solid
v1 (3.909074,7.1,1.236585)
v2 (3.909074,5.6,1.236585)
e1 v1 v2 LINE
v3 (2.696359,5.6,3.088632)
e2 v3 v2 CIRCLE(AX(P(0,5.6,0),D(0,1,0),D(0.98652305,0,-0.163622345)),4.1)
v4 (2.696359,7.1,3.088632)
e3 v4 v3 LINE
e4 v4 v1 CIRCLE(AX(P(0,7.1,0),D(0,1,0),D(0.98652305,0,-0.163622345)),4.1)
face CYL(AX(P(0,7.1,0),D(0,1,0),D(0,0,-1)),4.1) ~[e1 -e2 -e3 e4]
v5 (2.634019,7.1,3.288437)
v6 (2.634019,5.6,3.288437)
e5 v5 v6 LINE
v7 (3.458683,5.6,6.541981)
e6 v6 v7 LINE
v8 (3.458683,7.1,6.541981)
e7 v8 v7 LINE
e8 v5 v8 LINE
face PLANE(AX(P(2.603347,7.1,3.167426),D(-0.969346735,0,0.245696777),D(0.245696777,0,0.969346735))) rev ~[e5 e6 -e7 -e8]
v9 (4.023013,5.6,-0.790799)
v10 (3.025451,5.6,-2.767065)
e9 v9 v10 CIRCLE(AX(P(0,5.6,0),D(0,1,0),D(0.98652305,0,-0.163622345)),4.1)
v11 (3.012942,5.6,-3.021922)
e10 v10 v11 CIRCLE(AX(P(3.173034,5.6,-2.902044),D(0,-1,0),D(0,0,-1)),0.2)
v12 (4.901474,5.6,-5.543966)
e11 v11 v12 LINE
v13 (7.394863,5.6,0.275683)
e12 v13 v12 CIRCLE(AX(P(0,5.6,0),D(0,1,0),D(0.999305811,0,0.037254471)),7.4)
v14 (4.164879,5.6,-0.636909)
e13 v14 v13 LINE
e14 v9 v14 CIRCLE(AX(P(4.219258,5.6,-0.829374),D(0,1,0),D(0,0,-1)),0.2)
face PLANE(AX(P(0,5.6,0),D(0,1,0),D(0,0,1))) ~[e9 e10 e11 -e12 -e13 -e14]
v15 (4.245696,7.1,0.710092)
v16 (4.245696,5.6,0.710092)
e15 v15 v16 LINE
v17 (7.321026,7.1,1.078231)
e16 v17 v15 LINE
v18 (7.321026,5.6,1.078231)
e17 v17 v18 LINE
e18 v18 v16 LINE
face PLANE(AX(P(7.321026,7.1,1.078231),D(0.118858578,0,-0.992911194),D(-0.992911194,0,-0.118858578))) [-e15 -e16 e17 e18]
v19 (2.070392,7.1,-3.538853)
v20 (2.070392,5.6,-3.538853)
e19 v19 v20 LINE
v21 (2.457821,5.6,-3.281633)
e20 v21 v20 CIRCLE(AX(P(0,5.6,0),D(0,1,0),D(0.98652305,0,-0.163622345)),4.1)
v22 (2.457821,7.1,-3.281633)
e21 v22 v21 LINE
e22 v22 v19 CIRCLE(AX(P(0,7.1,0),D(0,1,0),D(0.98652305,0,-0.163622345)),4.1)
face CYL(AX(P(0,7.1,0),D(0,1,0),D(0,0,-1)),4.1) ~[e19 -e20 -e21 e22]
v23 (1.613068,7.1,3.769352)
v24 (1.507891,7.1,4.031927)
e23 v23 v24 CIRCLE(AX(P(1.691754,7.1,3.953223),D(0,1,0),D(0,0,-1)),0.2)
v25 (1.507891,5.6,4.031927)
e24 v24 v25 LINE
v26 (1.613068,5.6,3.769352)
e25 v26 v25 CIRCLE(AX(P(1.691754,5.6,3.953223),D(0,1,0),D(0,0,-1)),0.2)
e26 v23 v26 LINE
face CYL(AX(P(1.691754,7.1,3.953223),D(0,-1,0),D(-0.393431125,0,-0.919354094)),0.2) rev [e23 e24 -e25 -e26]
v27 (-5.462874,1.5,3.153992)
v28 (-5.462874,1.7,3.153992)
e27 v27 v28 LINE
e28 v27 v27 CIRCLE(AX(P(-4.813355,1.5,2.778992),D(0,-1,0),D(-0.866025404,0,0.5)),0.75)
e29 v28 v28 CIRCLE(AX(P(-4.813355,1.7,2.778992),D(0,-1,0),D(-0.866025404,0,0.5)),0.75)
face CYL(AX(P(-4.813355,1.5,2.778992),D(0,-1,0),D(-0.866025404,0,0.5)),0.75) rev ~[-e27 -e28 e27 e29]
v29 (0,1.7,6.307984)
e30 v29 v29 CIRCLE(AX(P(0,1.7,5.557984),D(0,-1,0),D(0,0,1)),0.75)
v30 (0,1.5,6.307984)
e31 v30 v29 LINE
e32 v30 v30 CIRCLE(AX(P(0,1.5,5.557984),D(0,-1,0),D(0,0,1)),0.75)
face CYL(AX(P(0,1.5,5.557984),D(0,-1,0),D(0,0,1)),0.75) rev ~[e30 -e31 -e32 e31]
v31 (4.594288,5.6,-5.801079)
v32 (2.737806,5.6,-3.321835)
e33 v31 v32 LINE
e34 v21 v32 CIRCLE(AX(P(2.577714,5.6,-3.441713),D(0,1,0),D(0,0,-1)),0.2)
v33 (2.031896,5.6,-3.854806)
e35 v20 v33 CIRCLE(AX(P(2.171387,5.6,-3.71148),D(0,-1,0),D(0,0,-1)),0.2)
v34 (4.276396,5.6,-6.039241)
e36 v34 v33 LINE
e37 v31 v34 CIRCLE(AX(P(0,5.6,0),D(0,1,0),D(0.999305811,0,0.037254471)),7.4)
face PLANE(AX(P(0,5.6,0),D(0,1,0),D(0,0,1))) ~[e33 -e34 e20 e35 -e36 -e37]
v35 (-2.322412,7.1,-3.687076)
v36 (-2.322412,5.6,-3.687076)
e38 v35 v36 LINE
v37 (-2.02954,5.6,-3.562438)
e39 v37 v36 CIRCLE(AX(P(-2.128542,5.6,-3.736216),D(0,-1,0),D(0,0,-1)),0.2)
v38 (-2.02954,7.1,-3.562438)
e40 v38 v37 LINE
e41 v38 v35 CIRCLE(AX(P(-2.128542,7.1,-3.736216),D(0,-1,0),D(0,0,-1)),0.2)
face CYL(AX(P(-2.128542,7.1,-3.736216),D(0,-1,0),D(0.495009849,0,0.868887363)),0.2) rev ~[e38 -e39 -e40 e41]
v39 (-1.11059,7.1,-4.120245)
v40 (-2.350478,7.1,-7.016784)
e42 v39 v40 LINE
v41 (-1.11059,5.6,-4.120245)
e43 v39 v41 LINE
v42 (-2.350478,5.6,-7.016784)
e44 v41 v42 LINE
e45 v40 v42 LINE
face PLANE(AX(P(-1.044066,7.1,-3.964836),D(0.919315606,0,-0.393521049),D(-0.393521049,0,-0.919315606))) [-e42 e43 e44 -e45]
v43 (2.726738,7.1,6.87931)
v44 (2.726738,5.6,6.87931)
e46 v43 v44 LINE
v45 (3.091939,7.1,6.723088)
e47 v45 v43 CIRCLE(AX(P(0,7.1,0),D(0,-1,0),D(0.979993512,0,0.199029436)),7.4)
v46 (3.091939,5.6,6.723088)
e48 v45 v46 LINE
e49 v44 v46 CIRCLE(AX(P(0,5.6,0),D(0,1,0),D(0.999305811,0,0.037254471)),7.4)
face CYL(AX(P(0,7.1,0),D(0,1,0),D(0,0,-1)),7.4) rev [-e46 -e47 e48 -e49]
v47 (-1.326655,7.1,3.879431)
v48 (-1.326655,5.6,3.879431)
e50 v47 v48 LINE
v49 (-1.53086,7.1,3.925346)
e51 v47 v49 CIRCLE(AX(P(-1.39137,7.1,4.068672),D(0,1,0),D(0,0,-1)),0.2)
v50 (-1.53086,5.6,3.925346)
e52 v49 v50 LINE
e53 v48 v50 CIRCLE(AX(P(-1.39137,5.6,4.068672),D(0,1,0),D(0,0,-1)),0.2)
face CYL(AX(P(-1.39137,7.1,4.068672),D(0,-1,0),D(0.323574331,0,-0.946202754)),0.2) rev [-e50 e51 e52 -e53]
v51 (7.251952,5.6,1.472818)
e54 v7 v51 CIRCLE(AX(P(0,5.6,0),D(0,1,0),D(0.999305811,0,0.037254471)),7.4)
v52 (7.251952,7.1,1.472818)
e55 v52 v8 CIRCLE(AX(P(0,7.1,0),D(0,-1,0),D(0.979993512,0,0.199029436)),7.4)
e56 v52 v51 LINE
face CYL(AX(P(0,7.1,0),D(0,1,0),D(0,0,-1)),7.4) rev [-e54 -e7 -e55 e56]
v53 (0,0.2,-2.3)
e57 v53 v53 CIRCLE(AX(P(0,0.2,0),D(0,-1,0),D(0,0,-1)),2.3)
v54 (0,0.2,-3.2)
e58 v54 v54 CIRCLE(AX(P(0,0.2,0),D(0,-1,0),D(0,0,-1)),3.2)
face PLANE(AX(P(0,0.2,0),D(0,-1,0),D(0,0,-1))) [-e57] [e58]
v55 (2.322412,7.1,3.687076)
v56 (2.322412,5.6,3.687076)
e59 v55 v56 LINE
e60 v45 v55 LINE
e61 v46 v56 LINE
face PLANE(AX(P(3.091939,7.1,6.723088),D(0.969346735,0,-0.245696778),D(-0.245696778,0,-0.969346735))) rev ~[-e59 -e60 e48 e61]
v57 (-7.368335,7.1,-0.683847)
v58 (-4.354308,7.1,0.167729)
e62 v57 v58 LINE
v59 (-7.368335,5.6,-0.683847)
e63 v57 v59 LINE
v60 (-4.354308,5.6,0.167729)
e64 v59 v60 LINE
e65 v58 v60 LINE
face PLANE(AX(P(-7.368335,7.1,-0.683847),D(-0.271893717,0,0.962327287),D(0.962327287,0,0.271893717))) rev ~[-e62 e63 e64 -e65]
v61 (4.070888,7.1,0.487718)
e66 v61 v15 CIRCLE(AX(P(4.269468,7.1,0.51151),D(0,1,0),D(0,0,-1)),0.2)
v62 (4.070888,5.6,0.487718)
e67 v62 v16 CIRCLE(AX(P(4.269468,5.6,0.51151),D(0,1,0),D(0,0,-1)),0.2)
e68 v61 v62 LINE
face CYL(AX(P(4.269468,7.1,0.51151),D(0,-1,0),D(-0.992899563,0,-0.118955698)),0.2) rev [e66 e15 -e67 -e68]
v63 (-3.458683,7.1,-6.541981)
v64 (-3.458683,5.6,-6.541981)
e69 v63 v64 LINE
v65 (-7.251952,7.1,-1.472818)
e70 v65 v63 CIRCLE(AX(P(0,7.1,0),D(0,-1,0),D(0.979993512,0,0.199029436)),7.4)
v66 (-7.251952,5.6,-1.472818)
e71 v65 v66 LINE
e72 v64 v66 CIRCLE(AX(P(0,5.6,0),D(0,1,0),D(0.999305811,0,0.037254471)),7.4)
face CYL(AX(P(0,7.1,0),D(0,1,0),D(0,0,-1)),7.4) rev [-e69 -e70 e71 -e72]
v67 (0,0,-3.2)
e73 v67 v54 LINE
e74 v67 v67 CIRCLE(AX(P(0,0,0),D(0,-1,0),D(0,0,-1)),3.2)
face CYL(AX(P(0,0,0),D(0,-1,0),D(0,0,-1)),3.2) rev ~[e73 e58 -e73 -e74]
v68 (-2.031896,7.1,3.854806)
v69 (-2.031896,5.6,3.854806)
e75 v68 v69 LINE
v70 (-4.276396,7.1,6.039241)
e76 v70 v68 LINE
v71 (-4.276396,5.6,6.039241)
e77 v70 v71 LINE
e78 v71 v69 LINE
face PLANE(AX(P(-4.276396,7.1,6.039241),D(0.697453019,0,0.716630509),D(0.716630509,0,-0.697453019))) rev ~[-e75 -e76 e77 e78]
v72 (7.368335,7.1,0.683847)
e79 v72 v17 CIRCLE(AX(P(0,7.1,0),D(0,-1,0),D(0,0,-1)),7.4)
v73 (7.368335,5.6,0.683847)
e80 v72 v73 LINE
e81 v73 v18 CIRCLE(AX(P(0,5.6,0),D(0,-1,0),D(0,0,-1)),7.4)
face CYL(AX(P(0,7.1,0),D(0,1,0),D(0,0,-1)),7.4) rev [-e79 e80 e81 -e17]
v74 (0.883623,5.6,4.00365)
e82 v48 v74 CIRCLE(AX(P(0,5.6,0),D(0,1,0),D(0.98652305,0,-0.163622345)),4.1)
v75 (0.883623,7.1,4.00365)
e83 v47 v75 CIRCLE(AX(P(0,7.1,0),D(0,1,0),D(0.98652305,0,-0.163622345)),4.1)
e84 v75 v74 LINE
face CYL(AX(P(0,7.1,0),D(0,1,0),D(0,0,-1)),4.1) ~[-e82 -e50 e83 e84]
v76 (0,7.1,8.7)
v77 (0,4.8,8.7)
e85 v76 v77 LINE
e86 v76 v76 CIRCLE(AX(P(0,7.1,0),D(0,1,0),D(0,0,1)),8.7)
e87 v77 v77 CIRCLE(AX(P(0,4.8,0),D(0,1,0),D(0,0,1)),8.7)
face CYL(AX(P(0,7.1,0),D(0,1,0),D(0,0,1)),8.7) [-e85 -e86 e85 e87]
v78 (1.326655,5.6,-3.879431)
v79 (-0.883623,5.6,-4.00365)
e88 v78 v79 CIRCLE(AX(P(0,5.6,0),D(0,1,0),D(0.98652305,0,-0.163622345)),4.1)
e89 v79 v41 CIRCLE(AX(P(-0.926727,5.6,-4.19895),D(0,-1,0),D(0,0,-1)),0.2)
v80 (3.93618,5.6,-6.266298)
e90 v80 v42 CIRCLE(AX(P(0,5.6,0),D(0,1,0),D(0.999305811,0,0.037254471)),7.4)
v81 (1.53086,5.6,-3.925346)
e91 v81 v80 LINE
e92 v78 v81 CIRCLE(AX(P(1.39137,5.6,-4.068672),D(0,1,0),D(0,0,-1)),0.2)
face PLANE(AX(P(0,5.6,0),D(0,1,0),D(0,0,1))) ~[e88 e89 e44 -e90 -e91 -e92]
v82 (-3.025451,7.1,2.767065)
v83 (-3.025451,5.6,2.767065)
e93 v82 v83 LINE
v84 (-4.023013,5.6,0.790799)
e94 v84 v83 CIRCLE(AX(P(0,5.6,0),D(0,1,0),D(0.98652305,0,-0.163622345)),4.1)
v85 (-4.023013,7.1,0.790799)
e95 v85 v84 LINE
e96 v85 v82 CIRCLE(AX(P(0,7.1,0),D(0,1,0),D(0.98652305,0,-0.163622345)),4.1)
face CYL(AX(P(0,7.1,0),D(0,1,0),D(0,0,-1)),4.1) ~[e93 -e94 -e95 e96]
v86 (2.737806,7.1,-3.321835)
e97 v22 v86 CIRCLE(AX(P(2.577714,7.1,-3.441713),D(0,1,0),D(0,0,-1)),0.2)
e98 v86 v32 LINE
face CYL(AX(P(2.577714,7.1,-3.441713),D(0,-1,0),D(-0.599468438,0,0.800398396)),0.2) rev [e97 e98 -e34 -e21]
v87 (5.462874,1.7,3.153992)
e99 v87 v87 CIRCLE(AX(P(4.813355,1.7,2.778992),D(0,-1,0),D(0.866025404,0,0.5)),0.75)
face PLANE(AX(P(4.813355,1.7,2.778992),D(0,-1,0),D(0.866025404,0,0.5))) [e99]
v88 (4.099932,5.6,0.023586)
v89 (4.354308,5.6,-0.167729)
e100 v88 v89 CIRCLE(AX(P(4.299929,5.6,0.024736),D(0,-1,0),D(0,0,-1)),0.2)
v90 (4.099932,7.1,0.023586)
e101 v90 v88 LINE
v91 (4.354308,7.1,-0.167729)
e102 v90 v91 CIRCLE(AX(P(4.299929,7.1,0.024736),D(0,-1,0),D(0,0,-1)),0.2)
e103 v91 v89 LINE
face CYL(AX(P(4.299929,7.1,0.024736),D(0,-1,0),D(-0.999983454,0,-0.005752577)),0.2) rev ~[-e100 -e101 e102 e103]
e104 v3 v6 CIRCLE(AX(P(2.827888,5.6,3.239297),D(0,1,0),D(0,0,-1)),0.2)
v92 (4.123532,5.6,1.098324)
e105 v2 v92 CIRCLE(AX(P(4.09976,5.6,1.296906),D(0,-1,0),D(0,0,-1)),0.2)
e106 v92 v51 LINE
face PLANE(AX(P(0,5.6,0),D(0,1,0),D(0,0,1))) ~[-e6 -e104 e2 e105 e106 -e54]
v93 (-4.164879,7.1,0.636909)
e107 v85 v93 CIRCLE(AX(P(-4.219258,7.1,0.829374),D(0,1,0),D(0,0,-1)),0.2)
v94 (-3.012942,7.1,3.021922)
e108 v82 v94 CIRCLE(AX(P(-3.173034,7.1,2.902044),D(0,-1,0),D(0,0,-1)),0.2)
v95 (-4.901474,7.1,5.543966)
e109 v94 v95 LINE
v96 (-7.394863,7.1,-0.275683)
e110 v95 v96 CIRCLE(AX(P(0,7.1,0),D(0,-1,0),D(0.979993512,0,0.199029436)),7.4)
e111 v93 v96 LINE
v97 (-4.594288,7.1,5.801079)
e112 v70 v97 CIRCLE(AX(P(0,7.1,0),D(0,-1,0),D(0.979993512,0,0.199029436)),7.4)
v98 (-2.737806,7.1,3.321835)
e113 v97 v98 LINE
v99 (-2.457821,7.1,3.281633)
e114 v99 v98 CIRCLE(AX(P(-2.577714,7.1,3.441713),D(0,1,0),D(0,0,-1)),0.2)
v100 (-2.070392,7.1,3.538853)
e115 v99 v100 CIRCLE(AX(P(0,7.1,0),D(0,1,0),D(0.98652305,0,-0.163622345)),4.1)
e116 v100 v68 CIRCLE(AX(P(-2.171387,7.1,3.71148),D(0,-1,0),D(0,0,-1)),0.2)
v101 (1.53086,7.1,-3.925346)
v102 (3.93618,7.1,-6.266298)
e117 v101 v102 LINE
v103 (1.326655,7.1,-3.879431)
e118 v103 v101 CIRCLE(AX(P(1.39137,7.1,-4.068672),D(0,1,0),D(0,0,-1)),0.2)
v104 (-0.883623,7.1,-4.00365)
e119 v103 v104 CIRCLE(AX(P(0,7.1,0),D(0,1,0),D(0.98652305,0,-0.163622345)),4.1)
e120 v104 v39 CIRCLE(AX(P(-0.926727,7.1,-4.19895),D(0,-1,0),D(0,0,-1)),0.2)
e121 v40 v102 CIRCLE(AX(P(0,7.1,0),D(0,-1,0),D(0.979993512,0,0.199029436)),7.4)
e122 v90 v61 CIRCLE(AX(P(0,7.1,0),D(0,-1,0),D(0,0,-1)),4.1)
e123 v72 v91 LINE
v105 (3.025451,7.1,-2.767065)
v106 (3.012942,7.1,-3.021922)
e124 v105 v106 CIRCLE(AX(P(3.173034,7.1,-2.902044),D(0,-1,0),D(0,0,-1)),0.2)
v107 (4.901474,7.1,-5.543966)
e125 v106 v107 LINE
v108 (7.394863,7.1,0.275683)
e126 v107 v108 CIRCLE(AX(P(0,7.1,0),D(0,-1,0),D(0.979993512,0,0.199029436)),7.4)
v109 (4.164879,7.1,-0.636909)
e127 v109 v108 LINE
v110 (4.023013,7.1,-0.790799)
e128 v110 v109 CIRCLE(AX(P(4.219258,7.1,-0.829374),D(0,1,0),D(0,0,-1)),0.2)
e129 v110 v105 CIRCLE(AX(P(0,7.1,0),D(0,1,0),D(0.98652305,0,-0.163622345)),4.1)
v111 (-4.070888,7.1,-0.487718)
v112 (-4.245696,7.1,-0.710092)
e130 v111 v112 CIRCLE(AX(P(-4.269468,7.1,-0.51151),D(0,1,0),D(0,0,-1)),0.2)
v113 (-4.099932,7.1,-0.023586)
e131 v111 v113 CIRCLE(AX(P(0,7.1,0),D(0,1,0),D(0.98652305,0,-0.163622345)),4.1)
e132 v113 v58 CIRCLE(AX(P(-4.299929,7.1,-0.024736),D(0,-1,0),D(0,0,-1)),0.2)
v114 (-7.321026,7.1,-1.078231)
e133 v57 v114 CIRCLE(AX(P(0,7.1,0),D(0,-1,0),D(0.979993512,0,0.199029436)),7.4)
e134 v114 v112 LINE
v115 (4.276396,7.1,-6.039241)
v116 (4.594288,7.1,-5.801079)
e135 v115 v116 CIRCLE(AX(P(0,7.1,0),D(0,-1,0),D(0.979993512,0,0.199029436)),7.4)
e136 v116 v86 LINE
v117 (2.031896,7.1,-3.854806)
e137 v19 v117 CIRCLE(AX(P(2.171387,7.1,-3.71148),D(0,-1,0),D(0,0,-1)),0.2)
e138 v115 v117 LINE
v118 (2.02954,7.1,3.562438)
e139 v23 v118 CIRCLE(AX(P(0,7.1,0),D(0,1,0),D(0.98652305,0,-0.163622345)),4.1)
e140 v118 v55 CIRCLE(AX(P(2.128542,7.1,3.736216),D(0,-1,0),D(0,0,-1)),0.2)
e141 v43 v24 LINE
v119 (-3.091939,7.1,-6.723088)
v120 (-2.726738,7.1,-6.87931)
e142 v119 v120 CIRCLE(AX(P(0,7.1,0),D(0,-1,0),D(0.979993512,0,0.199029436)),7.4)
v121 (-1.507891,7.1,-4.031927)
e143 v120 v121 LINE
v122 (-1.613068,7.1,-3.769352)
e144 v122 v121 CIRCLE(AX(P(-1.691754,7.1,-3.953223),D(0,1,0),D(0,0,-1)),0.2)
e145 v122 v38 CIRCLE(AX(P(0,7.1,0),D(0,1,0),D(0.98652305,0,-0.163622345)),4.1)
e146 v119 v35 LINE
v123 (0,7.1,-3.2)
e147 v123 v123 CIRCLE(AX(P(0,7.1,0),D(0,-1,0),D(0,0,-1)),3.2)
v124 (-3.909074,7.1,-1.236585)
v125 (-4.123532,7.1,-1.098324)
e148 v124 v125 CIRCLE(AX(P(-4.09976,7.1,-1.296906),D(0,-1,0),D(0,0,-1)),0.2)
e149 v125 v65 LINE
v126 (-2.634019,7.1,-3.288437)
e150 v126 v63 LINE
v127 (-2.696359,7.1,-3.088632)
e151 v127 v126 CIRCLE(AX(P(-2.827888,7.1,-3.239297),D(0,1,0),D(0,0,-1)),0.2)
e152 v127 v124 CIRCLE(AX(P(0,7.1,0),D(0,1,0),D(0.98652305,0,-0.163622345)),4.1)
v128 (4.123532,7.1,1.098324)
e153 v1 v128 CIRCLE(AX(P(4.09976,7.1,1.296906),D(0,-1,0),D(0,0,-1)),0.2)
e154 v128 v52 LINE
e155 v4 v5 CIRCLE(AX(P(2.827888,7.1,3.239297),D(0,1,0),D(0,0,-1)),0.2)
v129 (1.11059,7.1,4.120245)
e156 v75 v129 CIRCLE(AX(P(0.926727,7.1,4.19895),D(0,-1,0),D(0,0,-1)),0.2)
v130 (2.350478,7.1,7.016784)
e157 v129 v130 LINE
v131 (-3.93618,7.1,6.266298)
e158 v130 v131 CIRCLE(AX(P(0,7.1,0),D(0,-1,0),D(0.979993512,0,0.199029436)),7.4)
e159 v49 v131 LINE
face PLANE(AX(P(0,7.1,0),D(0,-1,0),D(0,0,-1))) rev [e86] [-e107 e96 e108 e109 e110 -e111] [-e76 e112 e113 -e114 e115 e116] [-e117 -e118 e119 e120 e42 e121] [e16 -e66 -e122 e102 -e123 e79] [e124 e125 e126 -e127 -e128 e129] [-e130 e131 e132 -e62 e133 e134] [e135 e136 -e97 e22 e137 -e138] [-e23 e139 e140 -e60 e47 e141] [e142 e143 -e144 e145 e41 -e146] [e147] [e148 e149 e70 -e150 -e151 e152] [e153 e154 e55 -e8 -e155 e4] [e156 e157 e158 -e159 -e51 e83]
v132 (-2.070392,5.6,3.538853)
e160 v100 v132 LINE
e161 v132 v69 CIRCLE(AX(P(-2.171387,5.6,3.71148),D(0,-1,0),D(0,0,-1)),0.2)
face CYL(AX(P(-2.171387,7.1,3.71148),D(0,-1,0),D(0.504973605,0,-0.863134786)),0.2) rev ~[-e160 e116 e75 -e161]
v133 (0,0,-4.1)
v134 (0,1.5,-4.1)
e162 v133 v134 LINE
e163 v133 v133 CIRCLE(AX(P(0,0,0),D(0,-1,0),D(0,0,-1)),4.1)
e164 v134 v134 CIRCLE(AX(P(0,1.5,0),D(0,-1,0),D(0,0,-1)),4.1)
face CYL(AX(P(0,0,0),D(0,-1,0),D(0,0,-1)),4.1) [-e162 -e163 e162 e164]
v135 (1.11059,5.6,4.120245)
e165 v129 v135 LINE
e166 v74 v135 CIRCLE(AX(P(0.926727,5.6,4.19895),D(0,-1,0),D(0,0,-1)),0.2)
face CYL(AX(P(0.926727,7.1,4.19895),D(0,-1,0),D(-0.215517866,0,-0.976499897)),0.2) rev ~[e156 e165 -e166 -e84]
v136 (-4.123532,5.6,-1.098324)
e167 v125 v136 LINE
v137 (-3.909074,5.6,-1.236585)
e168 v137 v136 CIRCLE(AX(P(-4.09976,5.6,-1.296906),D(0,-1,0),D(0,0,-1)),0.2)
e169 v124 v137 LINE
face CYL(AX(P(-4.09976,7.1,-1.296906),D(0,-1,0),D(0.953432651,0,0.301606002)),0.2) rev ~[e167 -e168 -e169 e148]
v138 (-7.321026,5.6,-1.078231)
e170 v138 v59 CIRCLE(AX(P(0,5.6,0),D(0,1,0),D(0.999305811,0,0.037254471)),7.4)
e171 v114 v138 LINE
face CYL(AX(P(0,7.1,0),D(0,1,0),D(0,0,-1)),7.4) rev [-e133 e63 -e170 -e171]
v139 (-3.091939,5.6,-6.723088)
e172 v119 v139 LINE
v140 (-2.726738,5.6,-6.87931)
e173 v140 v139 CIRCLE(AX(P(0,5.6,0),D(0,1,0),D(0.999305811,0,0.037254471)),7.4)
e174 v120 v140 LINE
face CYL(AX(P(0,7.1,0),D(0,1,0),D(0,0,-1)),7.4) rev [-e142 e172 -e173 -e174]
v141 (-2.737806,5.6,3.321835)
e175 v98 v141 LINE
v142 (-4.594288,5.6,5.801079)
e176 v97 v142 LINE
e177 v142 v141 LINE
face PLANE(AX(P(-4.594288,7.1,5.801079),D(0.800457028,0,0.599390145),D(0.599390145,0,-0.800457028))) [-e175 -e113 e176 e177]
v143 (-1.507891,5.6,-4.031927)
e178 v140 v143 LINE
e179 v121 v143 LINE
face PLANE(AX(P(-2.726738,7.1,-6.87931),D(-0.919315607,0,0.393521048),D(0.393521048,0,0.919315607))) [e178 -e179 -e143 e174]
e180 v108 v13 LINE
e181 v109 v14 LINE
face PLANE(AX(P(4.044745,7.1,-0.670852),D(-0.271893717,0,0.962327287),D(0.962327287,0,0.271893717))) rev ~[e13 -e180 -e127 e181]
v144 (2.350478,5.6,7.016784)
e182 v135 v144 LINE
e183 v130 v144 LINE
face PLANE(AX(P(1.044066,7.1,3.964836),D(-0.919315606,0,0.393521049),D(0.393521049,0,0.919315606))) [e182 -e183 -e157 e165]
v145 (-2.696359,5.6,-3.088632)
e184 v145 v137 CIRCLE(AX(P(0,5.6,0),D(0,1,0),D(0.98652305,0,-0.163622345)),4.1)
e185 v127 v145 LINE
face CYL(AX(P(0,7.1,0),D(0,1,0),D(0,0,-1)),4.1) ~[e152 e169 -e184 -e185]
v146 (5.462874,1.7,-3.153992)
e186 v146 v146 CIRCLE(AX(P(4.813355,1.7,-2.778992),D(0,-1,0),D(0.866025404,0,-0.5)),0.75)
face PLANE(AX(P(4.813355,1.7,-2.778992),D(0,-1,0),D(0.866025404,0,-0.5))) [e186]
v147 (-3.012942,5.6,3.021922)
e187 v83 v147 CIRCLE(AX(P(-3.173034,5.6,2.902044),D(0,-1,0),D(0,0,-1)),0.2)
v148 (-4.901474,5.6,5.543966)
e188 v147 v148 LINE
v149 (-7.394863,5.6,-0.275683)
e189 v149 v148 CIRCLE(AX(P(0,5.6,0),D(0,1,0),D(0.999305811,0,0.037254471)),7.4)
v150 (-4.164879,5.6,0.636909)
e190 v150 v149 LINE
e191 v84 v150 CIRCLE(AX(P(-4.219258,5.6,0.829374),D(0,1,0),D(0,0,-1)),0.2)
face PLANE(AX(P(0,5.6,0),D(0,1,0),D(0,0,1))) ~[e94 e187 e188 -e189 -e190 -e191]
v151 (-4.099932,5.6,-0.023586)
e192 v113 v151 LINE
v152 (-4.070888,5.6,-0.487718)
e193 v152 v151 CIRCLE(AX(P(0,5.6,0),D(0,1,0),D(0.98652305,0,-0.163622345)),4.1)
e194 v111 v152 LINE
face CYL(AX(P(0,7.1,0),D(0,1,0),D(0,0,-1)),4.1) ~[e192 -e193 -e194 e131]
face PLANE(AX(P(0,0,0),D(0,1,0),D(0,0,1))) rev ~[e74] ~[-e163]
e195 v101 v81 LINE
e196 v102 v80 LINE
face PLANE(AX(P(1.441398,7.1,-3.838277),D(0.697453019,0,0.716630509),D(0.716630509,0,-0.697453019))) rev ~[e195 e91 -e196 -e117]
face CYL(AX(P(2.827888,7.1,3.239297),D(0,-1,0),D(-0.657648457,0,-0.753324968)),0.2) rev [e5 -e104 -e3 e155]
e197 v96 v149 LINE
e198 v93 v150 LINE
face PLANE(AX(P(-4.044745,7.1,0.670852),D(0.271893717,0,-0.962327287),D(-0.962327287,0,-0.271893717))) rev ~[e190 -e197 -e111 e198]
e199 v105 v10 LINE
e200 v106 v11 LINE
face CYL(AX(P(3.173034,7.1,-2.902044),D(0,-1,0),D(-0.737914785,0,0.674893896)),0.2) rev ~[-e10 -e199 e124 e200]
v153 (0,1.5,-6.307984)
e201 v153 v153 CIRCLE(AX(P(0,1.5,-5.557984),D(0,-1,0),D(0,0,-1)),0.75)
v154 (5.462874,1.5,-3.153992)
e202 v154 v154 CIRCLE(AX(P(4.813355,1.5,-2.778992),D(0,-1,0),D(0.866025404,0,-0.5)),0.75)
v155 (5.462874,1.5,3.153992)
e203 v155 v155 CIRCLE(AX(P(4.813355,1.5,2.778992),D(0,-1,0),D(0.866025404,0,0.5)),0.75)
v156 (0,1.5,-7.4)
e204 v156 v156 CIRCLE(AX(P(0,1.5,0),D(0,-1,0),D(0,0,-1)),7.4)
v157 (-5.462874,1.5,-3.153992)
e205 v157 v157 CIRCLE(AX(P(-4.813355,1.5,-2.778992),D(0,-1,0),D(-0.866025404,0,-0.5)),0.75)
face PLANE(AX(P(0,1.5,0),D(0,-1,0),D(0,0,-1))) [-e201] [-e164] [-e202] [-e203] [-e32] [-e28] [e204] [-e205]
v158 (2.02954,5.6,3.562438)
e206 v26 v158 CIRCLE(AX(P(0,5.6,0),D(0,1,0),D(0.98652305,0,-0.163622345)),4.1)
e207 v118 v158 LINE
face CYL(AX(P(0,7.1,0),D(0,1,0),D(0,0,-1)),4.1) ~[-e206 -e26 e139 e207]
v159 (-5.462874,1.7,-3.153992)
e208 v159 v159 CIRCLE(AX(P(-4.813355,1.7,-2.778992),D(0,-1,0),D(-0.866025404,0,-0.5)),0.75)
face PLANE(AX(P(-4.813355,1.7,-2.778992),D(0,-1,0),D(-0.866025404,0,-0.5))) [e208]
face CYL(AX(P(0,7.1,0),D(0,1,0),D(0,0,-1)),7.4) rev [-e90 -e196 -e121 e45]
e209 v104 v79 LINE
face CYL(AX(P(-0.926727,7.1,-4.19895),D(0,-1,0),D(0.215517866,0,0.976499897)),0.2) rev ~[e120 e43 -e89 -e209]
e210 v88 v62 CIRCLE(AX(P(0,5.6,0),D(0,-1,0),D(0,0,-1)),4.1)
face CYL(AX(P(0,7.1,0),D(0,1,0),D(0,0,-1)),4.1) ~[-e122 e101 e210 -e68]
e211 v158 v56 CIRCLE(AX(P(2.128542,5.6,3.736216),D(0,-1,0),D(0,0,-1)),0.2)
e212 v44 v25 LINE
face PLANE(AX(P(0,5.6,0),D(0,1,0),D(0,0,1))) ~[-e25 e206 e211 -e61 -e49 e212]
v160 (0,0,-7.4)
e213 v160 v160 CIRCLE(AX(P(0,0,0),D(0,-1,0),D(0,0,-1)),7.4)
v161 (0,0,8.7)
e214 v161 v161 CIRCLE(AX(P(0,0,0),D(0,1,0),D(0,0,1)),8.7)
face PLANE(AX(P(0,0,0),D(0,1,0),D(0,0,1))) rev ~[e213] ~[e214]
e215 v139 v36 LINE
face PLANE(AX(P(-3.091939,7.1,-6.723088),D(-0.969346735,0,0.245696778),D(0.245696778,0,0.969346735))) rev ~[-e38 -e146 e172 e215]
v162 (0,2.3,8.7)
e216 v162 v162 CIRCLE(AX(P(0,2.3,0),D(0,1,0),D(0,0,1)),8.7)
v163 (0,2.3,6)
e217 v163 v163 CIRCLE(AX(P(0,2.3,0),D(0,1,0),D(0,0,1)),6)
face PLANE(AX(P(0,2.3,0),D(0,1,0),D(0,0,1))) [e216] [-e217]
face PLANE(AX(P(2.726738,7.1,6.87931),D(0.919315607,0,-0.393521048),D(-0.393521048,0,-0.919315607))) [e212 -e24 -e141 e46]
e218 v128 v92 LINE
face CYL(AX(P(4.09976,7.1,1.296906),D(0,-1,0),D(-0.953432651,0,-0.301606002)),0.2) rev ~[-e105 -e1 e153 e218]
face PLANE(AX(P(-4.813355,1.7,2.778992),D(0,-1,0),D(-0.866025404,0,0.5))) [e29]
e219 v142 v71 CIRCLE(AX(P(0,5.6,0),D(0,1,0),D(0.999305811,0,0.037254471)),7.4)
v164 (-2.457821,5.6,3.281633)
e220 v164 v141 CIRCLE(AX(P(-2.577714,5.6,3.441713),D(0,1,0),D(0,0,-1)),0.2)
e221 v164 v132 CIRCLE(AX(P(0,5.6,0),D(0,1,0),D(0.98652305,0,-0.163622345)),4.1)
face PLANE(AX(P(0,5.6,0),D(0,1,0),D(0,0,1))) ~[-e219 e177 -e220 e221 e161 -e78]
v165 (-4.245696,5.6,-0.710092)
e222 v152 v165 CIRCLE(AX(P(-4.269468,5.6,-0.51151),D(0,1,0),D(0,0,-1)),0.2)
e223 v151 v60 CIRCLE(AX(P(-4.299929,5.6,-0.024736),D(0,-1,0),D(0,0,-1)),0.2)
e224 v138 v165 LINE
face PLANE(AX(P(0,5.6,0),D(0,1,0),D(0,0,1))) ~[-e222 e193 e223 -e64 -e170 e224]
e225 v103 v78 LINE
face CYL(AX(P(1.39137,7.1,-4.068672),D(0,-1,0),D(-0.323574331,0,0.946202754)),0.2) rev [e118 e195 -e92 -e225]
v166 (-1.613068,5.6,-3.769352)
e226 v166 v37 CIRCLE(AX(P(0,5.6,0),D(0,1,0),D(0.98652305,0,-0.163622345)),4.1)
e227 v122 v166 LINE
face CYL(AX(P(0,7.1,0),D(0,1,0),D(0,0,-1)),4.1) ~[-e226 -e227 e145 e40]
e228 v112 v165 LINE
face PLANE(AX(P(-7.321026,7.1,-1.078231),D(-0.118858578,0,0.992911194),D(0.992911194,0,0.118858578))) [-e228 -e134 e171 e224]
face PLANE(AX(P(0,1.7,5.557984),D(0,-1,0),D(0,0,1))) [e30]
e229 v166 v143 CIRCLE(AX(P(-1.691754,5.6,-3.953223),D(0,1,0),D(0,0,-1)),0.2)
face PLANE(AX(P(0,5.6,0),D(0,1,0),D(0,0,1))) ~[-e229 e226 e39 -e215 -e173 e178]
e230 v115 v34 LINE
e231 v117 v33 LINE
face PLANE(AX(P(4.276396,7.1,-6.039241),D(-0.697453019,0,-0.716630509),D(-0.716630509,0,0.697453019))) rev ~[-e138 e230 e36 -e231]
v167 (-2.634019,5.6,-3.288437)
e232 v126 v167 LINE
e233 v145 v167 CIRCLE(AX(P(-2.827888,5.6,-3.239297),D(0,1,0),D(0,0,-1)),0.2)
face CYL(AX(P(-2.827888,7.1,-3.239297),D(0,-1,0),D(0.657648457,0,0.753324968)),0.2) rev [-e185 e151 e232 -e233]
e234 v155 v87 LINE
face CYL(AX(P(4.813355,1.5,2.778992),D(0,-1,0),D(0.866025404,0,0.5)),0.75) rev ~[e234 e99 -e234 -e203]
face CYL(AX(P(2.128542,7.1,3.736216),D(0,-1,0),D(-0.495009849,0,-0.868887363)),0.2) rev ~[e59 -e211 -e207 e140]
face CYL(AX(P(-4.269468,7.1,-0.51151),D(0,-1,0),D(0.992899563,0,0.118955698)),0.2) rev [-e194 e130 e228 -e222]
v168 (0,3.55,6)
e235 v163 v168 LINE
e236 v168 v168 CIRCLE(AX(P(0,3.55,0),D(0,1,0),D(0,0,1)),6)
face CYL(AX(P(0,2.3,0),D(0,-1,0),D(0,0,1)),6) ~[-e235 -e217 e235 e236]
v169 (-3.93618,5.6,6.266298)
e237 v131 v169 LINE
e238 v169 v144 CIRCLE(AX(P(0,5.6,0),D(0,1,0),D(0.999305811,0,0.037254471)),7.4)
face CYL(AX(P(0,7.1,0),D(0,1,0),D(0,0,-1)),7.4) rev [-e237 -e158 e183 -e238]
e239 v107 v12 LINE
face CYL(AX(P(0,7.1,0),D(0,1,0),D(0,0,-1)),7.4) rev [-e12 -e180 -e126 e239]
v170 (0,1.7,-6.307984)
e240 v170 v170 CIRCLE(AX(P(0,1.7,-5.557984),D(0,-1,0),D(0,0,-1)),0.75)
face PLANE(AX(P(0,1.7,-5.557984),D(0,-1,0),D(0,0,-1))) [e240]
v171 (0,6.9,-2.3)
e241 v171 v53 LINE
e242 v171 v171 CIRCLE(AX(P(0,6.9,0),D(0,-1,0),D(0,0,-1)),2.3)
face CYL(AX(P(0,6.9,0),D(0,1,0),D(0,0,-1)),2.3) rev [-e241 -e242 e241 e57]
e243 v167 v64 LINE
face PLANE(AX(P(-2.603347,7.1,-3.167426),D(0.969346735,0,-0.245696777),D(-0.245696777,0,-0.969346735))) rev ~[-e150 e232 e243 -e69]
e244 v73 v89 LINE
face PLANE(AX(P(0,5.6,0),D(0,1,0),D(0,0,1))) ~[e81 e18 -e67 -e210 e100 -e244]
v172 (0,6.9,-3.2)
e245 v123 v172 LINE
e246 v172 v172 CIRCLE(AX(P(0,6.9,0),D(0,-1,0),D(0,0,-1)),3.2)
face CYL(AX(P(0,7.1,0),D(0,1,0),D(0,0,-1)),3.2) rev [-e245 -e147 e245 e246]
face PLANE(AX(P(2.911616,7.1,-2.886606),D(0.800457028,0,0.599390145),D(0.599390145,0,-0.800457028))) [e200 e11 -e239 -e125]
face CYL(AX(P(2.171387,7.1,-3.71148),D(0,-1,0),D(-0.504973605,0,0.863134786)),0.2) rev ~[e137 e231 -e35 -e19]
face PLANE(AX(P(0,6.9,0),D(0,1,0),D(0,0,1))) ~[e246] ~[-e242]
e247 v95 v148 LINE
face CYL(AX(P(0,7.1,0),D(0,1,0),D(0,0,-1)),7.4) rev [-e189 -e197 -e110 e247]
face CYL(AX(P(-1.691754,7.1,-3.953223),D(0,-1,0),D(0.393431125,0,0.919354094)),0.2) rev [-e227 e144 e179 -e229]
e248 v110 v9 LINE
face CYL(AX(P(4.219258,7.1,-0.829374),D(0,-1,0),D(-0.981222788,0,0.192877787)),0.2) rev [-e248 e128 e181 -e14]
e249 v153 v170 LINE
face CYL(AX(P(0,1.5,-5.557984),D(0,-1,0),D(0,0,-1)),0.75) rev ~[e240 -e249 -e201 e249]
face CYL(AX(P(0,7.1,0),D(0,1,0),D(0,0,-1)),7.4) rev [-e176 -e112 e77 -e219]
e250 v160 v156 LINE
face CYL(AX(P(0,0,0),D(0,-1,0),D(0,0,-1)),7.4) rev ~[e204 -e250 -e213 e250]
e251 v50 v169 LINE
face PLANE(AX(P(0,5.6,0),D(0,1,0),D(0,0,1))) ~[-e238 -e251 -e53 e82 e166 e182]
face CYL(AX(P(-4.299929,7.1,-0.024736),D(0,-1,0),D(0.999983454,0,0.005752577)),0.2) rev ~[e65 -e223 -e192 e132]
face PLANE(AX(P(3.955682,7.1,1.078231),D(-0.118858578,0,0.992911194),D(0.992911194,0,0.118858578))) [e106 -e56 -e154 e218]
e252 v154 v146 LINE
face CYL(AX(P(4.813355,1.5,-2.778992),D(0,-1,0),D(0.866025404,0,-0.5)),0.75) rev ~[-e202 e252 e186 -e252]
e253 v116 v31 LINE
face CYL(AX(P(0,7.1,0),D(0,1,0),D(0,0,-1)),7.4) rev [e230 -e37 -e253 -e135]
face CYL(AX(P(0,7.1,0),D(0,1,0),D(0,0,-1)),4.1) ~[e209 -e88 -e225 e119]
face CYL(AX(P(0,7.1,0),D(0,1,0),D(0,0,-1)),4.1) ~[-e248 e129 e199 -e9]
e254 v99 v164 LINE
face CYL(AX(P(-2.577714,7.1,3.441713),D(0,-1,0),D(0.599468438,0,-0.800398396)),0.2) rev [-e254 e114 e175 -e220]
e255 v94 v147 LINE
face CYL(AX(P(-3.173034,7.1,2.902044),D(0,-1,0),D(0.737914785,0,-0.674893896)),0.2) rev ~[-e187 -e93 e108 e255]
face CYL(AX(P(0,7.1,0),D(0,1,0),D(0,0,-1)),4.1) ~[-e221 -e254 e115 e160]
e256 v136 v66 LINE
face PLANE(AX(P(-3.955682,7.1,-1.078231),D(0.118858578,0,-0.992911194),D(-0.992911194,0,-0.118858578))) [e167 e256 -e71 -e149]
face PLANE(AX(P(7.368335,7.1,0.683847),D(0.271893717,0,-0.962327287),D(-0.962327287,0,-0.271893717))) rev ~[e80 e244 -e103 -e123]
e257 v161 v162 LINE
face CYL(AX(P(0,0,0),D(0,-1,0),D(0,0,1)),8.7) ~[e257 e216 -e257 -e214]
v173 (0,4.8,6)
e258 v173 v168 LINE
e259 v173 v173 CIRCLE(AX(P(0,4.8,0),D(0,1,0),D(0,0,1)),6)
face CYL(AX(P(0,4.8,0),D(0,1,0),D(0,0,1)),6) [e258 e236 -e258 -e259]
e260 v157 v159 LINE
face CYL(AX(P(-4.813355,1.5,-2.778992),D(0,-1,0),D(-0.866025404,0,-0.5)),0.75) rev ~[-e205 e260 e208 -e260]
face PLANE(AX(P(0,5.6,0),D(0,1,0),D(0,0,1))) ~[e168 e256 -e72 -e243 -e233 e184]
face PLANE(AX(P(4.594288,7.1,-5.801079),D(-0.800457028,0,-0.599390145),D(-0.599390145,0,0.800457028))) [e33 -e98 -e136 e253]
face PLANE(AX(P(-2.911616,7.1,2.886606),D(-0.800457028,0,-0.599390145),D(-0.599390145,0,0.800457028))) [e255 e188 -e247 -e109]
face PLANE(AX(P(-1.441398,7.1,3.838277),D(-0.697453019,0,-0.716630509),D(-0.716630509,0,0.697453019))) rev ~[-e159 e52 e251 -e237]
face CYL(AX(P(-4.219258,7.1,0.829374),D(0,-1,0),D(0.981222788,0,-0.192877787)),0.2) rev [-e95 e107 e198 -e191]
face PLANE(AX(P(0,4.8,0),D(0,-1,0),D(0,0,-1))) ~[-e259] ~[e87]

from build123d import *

# Parameters (mm, degrees)
SKETCH1_R           = 8.7
BOSS_EXTRUDE1_DEPTH = 2.3
SKETCH2_R           = 6
BOSS_EXTRUDE2_DEPTH = 1.25
SKETCH3_R           = 7.4
SKETCH3_R_2         = 4.1
SKETCH3_R_3         = 3.2
CUT_EXTRUDE2_DEPTH  = 1.5
BOSS_EXTRUDE3_START = 1.3
SKETCH6_R           = 3.2
BOSS_EXTRUDE3_DEPTH = 1.3
SKETCH7_R           = 2.3
CUT_EXTRUDE3_DEPTH  = 13.751568531
SKETCH9_R           = 0.75
CUT_EXTRUDE4_DEPTH  = 0.2
CIRPATTERN1_COUNT   = 6
BOSS_EXTRUDE4_DEPTH = 1.5
CIRPATTERN2_COUNT   = 6
FILLET2_R           = 0.2


with BuildPart() as part:
    # Sketch1 → Boss-Extrude1 (new body)
    with BuildSketch(Plane(origin=(0, 0, 0), x_dir=(1, 0, 0), z_dir=(0, 1, 0))):
        with Locations(Location((0, 0, 0), (0, 0, 270))):
            Circle(SKETCH1_R)
    extrude(amount=BOSS_EXTRUDE1_DEPTH)

    # Sketch2 → Boss-Extrude2 (add)
    with BuildSketch(Plane(origin=(0, 2.3, 0), x_dir=(1, 0, 0), z_dir=(0, 1, 0))):
        with Locations(Location((0, 0, 0), (0, 0, 270))):
            Circle(SKETCH2_R)
    extrude(amount=BOSS_EXTRUDE2_DEPTH)

    # Sketch3 → Cut-Extrude2 (cut)
    # profile 1 of 2: a face of its own
    with BuildSketch(Plane.XZ):
        with Locations(Location((0, 0, 0), (0, 0, 270))):
            Circle(SKETCH3_R)
        with Locations(Location((0, 0, 0), (0, 0, 270))):
            Circle(SKETCH3_R_2, mode=Mode.SUBTRACT)
    # profile 2 of 2: a face of its own
    with BuildSketch(Plane.XZ):
        with Locations(Location((0, 0, 0), (0, 0, 270))):
            Circle(SKETCH3_R_3)
    extrude(amount=-CUT_EXTRUDE2_DEPTH, mode=Mode.SUBTRACT)

    # Sketch6 → Boss-Extrude3 (add)
    with BuildSketch(Plane.XZ.offset(-1.5).offset(BOSS_EXTRUDE3_START)):
        with Locations(Location((0, 0, 0), (0, 0, 270))):
            Circle(SKETCH6_R)
    extrude(amount=-BOSS_EXTRUDE3_DEPTH)

    # Sketch7 → Cut-Extrude3 (cut, through all)
    with BuildSketch(Plane.XZ.offset(-0.2)):
        with Locations(Location((0, 0, 0), (0, 0, 270))):
            Circle(SKETCH7_R)
    extrude(amount=-CUT_EXTRUDE3_DEPTH, mode=Mode.SUBTRACT)

    # Mirror4: part across plane


with BuildPart() as part_1:
    add(part.part)
    add(part.part.mirror(Plane.ZX.offset(3.55)))

    # Sketch9 → Cut-Extrude4 (cut)
    with BuildSketch(Plane.XZ.offset(-1.5)):
        with Locations(Location((0, -5.557983599, 0), (0, 0, 270))):
            Circle(SKETCH9_R)
    cut_extrude4 = extrude(amount=-CUT_EXTRUDE4_DEPTH, mode=Mode.SUBTRACT)

    # CirPattern1: Cut-Extrude4 ×6 about axis
    cirpattern1_axis = Axis((0, 0, 0), (0, 1, 0))
    for i in range(1, CIRPATTERN1_COUNT):
        add(cut_extrude4.rotate(cirpattern1_axis, i * 360 / CIRPATTERN1_COUNT), mode=Mode.SUBTRACT)

    # Sketch10 → Boss-Extrude4 (add)
    with BuildSketch(Plane(origin=(0, 7.1, 0), x_dir=(1, 0, 0), z_dir=(0, 1, 0))):
        with BuildLine():
            Line((7.321025788, -1.078230685), (4.042247415, -0.68573744))
            ThreePointArc((4.042247415, -0.68573744), (4.003777056, -0.883045462), (3.955681811, -1.078230685))
            Line((3.955681811, -1.078230685), (7.25195199, -1.472817823))
            ThreePointArc((7.25195199, -1.472817823), (7.289159422, -1.275991739), (7.321025788, -1.078230685))
        make_face()
        with BuildLine():
            Line((7.368334518, -0.683846791), (4.092875821, 0.241593702))
            ThreePointArc((4.092875821, 0.241593702), (4.074467049, 0.456856947), (4.044744505, 0.670851615))
            Line((4.044744505, 0.670851615), (7.394863003, -0.275683086))
            ThreePointArc((7.394863003, -0.275683086), (7.384419386, -0.479948264), (7.368334518, -0.683846791))
        make_face()
    boss_extrude4 = extrude(amount=-BOSS_EXTRUDE4_DEPTH)

    # CirPattern2: Boss-Extrude4 ×6 about axis
    cirpattern2_axis = Axis((0, 0, 0), (0, 1, 0))
    for i in range(1, CIRPATTERN2_COUNT):
        add(boss_extrude4.rotate(cirpattern2_axis, i * 360 / CIRPATTERN2_COUNT))

    # Fillet2
    fillet2_edges = [part_1.edges().sort_by_distance(p)[0] for p in [
        (2.603346793, 6.35, 3.167425686),
        (2.255664194, 6.35, 3.423737584),
        (1.427257664, 6.35, 3.84355767),
        (1.044065742, 6.35, 3.96483628),
        (-1.441397712, 6.35, 3.838277301),
        (-1.837211627, 6.35, 3.665331286),
        (-2.614989751, 6.35, 3.157820229),
        (-2.91161607, 6.35, 2.886605595),
        (-4.044744505, 6.35, 0.670851615),
        (-4.092875821, 6.35, 0.241593702),
        (-4.042247415, 6.35, -0.68573744),
        (-3.955681811, 6.35, -1.078230685),
        (-2.603346793, 6.35, -3.167425686),
        (-2.255664194, 6.35, -3.423737584),
        (-1.427257664, 6.35, -3.84355767),
        (-1.044065742, 6.35, -3.96483628),
        (1.441397712, 6.35, -3.838277301),
        (1.837211627, 6.35, -3.665331286),
        (2.614989751, 6.35, -3.157820229),
        (2.91161607, 6.35, -2.886605595),
        (4.044744505, 6.35, -0.670851615),
        (4.092875821, 6.35, -0.241593702),
        (4.042247415, 6.35, 0.68573744),
        (3.955681811, 6.35, 1.078230685),
    ]]
    fillet(fillet2_edges, radius=FILLET2_R)


solid = part_1.part
